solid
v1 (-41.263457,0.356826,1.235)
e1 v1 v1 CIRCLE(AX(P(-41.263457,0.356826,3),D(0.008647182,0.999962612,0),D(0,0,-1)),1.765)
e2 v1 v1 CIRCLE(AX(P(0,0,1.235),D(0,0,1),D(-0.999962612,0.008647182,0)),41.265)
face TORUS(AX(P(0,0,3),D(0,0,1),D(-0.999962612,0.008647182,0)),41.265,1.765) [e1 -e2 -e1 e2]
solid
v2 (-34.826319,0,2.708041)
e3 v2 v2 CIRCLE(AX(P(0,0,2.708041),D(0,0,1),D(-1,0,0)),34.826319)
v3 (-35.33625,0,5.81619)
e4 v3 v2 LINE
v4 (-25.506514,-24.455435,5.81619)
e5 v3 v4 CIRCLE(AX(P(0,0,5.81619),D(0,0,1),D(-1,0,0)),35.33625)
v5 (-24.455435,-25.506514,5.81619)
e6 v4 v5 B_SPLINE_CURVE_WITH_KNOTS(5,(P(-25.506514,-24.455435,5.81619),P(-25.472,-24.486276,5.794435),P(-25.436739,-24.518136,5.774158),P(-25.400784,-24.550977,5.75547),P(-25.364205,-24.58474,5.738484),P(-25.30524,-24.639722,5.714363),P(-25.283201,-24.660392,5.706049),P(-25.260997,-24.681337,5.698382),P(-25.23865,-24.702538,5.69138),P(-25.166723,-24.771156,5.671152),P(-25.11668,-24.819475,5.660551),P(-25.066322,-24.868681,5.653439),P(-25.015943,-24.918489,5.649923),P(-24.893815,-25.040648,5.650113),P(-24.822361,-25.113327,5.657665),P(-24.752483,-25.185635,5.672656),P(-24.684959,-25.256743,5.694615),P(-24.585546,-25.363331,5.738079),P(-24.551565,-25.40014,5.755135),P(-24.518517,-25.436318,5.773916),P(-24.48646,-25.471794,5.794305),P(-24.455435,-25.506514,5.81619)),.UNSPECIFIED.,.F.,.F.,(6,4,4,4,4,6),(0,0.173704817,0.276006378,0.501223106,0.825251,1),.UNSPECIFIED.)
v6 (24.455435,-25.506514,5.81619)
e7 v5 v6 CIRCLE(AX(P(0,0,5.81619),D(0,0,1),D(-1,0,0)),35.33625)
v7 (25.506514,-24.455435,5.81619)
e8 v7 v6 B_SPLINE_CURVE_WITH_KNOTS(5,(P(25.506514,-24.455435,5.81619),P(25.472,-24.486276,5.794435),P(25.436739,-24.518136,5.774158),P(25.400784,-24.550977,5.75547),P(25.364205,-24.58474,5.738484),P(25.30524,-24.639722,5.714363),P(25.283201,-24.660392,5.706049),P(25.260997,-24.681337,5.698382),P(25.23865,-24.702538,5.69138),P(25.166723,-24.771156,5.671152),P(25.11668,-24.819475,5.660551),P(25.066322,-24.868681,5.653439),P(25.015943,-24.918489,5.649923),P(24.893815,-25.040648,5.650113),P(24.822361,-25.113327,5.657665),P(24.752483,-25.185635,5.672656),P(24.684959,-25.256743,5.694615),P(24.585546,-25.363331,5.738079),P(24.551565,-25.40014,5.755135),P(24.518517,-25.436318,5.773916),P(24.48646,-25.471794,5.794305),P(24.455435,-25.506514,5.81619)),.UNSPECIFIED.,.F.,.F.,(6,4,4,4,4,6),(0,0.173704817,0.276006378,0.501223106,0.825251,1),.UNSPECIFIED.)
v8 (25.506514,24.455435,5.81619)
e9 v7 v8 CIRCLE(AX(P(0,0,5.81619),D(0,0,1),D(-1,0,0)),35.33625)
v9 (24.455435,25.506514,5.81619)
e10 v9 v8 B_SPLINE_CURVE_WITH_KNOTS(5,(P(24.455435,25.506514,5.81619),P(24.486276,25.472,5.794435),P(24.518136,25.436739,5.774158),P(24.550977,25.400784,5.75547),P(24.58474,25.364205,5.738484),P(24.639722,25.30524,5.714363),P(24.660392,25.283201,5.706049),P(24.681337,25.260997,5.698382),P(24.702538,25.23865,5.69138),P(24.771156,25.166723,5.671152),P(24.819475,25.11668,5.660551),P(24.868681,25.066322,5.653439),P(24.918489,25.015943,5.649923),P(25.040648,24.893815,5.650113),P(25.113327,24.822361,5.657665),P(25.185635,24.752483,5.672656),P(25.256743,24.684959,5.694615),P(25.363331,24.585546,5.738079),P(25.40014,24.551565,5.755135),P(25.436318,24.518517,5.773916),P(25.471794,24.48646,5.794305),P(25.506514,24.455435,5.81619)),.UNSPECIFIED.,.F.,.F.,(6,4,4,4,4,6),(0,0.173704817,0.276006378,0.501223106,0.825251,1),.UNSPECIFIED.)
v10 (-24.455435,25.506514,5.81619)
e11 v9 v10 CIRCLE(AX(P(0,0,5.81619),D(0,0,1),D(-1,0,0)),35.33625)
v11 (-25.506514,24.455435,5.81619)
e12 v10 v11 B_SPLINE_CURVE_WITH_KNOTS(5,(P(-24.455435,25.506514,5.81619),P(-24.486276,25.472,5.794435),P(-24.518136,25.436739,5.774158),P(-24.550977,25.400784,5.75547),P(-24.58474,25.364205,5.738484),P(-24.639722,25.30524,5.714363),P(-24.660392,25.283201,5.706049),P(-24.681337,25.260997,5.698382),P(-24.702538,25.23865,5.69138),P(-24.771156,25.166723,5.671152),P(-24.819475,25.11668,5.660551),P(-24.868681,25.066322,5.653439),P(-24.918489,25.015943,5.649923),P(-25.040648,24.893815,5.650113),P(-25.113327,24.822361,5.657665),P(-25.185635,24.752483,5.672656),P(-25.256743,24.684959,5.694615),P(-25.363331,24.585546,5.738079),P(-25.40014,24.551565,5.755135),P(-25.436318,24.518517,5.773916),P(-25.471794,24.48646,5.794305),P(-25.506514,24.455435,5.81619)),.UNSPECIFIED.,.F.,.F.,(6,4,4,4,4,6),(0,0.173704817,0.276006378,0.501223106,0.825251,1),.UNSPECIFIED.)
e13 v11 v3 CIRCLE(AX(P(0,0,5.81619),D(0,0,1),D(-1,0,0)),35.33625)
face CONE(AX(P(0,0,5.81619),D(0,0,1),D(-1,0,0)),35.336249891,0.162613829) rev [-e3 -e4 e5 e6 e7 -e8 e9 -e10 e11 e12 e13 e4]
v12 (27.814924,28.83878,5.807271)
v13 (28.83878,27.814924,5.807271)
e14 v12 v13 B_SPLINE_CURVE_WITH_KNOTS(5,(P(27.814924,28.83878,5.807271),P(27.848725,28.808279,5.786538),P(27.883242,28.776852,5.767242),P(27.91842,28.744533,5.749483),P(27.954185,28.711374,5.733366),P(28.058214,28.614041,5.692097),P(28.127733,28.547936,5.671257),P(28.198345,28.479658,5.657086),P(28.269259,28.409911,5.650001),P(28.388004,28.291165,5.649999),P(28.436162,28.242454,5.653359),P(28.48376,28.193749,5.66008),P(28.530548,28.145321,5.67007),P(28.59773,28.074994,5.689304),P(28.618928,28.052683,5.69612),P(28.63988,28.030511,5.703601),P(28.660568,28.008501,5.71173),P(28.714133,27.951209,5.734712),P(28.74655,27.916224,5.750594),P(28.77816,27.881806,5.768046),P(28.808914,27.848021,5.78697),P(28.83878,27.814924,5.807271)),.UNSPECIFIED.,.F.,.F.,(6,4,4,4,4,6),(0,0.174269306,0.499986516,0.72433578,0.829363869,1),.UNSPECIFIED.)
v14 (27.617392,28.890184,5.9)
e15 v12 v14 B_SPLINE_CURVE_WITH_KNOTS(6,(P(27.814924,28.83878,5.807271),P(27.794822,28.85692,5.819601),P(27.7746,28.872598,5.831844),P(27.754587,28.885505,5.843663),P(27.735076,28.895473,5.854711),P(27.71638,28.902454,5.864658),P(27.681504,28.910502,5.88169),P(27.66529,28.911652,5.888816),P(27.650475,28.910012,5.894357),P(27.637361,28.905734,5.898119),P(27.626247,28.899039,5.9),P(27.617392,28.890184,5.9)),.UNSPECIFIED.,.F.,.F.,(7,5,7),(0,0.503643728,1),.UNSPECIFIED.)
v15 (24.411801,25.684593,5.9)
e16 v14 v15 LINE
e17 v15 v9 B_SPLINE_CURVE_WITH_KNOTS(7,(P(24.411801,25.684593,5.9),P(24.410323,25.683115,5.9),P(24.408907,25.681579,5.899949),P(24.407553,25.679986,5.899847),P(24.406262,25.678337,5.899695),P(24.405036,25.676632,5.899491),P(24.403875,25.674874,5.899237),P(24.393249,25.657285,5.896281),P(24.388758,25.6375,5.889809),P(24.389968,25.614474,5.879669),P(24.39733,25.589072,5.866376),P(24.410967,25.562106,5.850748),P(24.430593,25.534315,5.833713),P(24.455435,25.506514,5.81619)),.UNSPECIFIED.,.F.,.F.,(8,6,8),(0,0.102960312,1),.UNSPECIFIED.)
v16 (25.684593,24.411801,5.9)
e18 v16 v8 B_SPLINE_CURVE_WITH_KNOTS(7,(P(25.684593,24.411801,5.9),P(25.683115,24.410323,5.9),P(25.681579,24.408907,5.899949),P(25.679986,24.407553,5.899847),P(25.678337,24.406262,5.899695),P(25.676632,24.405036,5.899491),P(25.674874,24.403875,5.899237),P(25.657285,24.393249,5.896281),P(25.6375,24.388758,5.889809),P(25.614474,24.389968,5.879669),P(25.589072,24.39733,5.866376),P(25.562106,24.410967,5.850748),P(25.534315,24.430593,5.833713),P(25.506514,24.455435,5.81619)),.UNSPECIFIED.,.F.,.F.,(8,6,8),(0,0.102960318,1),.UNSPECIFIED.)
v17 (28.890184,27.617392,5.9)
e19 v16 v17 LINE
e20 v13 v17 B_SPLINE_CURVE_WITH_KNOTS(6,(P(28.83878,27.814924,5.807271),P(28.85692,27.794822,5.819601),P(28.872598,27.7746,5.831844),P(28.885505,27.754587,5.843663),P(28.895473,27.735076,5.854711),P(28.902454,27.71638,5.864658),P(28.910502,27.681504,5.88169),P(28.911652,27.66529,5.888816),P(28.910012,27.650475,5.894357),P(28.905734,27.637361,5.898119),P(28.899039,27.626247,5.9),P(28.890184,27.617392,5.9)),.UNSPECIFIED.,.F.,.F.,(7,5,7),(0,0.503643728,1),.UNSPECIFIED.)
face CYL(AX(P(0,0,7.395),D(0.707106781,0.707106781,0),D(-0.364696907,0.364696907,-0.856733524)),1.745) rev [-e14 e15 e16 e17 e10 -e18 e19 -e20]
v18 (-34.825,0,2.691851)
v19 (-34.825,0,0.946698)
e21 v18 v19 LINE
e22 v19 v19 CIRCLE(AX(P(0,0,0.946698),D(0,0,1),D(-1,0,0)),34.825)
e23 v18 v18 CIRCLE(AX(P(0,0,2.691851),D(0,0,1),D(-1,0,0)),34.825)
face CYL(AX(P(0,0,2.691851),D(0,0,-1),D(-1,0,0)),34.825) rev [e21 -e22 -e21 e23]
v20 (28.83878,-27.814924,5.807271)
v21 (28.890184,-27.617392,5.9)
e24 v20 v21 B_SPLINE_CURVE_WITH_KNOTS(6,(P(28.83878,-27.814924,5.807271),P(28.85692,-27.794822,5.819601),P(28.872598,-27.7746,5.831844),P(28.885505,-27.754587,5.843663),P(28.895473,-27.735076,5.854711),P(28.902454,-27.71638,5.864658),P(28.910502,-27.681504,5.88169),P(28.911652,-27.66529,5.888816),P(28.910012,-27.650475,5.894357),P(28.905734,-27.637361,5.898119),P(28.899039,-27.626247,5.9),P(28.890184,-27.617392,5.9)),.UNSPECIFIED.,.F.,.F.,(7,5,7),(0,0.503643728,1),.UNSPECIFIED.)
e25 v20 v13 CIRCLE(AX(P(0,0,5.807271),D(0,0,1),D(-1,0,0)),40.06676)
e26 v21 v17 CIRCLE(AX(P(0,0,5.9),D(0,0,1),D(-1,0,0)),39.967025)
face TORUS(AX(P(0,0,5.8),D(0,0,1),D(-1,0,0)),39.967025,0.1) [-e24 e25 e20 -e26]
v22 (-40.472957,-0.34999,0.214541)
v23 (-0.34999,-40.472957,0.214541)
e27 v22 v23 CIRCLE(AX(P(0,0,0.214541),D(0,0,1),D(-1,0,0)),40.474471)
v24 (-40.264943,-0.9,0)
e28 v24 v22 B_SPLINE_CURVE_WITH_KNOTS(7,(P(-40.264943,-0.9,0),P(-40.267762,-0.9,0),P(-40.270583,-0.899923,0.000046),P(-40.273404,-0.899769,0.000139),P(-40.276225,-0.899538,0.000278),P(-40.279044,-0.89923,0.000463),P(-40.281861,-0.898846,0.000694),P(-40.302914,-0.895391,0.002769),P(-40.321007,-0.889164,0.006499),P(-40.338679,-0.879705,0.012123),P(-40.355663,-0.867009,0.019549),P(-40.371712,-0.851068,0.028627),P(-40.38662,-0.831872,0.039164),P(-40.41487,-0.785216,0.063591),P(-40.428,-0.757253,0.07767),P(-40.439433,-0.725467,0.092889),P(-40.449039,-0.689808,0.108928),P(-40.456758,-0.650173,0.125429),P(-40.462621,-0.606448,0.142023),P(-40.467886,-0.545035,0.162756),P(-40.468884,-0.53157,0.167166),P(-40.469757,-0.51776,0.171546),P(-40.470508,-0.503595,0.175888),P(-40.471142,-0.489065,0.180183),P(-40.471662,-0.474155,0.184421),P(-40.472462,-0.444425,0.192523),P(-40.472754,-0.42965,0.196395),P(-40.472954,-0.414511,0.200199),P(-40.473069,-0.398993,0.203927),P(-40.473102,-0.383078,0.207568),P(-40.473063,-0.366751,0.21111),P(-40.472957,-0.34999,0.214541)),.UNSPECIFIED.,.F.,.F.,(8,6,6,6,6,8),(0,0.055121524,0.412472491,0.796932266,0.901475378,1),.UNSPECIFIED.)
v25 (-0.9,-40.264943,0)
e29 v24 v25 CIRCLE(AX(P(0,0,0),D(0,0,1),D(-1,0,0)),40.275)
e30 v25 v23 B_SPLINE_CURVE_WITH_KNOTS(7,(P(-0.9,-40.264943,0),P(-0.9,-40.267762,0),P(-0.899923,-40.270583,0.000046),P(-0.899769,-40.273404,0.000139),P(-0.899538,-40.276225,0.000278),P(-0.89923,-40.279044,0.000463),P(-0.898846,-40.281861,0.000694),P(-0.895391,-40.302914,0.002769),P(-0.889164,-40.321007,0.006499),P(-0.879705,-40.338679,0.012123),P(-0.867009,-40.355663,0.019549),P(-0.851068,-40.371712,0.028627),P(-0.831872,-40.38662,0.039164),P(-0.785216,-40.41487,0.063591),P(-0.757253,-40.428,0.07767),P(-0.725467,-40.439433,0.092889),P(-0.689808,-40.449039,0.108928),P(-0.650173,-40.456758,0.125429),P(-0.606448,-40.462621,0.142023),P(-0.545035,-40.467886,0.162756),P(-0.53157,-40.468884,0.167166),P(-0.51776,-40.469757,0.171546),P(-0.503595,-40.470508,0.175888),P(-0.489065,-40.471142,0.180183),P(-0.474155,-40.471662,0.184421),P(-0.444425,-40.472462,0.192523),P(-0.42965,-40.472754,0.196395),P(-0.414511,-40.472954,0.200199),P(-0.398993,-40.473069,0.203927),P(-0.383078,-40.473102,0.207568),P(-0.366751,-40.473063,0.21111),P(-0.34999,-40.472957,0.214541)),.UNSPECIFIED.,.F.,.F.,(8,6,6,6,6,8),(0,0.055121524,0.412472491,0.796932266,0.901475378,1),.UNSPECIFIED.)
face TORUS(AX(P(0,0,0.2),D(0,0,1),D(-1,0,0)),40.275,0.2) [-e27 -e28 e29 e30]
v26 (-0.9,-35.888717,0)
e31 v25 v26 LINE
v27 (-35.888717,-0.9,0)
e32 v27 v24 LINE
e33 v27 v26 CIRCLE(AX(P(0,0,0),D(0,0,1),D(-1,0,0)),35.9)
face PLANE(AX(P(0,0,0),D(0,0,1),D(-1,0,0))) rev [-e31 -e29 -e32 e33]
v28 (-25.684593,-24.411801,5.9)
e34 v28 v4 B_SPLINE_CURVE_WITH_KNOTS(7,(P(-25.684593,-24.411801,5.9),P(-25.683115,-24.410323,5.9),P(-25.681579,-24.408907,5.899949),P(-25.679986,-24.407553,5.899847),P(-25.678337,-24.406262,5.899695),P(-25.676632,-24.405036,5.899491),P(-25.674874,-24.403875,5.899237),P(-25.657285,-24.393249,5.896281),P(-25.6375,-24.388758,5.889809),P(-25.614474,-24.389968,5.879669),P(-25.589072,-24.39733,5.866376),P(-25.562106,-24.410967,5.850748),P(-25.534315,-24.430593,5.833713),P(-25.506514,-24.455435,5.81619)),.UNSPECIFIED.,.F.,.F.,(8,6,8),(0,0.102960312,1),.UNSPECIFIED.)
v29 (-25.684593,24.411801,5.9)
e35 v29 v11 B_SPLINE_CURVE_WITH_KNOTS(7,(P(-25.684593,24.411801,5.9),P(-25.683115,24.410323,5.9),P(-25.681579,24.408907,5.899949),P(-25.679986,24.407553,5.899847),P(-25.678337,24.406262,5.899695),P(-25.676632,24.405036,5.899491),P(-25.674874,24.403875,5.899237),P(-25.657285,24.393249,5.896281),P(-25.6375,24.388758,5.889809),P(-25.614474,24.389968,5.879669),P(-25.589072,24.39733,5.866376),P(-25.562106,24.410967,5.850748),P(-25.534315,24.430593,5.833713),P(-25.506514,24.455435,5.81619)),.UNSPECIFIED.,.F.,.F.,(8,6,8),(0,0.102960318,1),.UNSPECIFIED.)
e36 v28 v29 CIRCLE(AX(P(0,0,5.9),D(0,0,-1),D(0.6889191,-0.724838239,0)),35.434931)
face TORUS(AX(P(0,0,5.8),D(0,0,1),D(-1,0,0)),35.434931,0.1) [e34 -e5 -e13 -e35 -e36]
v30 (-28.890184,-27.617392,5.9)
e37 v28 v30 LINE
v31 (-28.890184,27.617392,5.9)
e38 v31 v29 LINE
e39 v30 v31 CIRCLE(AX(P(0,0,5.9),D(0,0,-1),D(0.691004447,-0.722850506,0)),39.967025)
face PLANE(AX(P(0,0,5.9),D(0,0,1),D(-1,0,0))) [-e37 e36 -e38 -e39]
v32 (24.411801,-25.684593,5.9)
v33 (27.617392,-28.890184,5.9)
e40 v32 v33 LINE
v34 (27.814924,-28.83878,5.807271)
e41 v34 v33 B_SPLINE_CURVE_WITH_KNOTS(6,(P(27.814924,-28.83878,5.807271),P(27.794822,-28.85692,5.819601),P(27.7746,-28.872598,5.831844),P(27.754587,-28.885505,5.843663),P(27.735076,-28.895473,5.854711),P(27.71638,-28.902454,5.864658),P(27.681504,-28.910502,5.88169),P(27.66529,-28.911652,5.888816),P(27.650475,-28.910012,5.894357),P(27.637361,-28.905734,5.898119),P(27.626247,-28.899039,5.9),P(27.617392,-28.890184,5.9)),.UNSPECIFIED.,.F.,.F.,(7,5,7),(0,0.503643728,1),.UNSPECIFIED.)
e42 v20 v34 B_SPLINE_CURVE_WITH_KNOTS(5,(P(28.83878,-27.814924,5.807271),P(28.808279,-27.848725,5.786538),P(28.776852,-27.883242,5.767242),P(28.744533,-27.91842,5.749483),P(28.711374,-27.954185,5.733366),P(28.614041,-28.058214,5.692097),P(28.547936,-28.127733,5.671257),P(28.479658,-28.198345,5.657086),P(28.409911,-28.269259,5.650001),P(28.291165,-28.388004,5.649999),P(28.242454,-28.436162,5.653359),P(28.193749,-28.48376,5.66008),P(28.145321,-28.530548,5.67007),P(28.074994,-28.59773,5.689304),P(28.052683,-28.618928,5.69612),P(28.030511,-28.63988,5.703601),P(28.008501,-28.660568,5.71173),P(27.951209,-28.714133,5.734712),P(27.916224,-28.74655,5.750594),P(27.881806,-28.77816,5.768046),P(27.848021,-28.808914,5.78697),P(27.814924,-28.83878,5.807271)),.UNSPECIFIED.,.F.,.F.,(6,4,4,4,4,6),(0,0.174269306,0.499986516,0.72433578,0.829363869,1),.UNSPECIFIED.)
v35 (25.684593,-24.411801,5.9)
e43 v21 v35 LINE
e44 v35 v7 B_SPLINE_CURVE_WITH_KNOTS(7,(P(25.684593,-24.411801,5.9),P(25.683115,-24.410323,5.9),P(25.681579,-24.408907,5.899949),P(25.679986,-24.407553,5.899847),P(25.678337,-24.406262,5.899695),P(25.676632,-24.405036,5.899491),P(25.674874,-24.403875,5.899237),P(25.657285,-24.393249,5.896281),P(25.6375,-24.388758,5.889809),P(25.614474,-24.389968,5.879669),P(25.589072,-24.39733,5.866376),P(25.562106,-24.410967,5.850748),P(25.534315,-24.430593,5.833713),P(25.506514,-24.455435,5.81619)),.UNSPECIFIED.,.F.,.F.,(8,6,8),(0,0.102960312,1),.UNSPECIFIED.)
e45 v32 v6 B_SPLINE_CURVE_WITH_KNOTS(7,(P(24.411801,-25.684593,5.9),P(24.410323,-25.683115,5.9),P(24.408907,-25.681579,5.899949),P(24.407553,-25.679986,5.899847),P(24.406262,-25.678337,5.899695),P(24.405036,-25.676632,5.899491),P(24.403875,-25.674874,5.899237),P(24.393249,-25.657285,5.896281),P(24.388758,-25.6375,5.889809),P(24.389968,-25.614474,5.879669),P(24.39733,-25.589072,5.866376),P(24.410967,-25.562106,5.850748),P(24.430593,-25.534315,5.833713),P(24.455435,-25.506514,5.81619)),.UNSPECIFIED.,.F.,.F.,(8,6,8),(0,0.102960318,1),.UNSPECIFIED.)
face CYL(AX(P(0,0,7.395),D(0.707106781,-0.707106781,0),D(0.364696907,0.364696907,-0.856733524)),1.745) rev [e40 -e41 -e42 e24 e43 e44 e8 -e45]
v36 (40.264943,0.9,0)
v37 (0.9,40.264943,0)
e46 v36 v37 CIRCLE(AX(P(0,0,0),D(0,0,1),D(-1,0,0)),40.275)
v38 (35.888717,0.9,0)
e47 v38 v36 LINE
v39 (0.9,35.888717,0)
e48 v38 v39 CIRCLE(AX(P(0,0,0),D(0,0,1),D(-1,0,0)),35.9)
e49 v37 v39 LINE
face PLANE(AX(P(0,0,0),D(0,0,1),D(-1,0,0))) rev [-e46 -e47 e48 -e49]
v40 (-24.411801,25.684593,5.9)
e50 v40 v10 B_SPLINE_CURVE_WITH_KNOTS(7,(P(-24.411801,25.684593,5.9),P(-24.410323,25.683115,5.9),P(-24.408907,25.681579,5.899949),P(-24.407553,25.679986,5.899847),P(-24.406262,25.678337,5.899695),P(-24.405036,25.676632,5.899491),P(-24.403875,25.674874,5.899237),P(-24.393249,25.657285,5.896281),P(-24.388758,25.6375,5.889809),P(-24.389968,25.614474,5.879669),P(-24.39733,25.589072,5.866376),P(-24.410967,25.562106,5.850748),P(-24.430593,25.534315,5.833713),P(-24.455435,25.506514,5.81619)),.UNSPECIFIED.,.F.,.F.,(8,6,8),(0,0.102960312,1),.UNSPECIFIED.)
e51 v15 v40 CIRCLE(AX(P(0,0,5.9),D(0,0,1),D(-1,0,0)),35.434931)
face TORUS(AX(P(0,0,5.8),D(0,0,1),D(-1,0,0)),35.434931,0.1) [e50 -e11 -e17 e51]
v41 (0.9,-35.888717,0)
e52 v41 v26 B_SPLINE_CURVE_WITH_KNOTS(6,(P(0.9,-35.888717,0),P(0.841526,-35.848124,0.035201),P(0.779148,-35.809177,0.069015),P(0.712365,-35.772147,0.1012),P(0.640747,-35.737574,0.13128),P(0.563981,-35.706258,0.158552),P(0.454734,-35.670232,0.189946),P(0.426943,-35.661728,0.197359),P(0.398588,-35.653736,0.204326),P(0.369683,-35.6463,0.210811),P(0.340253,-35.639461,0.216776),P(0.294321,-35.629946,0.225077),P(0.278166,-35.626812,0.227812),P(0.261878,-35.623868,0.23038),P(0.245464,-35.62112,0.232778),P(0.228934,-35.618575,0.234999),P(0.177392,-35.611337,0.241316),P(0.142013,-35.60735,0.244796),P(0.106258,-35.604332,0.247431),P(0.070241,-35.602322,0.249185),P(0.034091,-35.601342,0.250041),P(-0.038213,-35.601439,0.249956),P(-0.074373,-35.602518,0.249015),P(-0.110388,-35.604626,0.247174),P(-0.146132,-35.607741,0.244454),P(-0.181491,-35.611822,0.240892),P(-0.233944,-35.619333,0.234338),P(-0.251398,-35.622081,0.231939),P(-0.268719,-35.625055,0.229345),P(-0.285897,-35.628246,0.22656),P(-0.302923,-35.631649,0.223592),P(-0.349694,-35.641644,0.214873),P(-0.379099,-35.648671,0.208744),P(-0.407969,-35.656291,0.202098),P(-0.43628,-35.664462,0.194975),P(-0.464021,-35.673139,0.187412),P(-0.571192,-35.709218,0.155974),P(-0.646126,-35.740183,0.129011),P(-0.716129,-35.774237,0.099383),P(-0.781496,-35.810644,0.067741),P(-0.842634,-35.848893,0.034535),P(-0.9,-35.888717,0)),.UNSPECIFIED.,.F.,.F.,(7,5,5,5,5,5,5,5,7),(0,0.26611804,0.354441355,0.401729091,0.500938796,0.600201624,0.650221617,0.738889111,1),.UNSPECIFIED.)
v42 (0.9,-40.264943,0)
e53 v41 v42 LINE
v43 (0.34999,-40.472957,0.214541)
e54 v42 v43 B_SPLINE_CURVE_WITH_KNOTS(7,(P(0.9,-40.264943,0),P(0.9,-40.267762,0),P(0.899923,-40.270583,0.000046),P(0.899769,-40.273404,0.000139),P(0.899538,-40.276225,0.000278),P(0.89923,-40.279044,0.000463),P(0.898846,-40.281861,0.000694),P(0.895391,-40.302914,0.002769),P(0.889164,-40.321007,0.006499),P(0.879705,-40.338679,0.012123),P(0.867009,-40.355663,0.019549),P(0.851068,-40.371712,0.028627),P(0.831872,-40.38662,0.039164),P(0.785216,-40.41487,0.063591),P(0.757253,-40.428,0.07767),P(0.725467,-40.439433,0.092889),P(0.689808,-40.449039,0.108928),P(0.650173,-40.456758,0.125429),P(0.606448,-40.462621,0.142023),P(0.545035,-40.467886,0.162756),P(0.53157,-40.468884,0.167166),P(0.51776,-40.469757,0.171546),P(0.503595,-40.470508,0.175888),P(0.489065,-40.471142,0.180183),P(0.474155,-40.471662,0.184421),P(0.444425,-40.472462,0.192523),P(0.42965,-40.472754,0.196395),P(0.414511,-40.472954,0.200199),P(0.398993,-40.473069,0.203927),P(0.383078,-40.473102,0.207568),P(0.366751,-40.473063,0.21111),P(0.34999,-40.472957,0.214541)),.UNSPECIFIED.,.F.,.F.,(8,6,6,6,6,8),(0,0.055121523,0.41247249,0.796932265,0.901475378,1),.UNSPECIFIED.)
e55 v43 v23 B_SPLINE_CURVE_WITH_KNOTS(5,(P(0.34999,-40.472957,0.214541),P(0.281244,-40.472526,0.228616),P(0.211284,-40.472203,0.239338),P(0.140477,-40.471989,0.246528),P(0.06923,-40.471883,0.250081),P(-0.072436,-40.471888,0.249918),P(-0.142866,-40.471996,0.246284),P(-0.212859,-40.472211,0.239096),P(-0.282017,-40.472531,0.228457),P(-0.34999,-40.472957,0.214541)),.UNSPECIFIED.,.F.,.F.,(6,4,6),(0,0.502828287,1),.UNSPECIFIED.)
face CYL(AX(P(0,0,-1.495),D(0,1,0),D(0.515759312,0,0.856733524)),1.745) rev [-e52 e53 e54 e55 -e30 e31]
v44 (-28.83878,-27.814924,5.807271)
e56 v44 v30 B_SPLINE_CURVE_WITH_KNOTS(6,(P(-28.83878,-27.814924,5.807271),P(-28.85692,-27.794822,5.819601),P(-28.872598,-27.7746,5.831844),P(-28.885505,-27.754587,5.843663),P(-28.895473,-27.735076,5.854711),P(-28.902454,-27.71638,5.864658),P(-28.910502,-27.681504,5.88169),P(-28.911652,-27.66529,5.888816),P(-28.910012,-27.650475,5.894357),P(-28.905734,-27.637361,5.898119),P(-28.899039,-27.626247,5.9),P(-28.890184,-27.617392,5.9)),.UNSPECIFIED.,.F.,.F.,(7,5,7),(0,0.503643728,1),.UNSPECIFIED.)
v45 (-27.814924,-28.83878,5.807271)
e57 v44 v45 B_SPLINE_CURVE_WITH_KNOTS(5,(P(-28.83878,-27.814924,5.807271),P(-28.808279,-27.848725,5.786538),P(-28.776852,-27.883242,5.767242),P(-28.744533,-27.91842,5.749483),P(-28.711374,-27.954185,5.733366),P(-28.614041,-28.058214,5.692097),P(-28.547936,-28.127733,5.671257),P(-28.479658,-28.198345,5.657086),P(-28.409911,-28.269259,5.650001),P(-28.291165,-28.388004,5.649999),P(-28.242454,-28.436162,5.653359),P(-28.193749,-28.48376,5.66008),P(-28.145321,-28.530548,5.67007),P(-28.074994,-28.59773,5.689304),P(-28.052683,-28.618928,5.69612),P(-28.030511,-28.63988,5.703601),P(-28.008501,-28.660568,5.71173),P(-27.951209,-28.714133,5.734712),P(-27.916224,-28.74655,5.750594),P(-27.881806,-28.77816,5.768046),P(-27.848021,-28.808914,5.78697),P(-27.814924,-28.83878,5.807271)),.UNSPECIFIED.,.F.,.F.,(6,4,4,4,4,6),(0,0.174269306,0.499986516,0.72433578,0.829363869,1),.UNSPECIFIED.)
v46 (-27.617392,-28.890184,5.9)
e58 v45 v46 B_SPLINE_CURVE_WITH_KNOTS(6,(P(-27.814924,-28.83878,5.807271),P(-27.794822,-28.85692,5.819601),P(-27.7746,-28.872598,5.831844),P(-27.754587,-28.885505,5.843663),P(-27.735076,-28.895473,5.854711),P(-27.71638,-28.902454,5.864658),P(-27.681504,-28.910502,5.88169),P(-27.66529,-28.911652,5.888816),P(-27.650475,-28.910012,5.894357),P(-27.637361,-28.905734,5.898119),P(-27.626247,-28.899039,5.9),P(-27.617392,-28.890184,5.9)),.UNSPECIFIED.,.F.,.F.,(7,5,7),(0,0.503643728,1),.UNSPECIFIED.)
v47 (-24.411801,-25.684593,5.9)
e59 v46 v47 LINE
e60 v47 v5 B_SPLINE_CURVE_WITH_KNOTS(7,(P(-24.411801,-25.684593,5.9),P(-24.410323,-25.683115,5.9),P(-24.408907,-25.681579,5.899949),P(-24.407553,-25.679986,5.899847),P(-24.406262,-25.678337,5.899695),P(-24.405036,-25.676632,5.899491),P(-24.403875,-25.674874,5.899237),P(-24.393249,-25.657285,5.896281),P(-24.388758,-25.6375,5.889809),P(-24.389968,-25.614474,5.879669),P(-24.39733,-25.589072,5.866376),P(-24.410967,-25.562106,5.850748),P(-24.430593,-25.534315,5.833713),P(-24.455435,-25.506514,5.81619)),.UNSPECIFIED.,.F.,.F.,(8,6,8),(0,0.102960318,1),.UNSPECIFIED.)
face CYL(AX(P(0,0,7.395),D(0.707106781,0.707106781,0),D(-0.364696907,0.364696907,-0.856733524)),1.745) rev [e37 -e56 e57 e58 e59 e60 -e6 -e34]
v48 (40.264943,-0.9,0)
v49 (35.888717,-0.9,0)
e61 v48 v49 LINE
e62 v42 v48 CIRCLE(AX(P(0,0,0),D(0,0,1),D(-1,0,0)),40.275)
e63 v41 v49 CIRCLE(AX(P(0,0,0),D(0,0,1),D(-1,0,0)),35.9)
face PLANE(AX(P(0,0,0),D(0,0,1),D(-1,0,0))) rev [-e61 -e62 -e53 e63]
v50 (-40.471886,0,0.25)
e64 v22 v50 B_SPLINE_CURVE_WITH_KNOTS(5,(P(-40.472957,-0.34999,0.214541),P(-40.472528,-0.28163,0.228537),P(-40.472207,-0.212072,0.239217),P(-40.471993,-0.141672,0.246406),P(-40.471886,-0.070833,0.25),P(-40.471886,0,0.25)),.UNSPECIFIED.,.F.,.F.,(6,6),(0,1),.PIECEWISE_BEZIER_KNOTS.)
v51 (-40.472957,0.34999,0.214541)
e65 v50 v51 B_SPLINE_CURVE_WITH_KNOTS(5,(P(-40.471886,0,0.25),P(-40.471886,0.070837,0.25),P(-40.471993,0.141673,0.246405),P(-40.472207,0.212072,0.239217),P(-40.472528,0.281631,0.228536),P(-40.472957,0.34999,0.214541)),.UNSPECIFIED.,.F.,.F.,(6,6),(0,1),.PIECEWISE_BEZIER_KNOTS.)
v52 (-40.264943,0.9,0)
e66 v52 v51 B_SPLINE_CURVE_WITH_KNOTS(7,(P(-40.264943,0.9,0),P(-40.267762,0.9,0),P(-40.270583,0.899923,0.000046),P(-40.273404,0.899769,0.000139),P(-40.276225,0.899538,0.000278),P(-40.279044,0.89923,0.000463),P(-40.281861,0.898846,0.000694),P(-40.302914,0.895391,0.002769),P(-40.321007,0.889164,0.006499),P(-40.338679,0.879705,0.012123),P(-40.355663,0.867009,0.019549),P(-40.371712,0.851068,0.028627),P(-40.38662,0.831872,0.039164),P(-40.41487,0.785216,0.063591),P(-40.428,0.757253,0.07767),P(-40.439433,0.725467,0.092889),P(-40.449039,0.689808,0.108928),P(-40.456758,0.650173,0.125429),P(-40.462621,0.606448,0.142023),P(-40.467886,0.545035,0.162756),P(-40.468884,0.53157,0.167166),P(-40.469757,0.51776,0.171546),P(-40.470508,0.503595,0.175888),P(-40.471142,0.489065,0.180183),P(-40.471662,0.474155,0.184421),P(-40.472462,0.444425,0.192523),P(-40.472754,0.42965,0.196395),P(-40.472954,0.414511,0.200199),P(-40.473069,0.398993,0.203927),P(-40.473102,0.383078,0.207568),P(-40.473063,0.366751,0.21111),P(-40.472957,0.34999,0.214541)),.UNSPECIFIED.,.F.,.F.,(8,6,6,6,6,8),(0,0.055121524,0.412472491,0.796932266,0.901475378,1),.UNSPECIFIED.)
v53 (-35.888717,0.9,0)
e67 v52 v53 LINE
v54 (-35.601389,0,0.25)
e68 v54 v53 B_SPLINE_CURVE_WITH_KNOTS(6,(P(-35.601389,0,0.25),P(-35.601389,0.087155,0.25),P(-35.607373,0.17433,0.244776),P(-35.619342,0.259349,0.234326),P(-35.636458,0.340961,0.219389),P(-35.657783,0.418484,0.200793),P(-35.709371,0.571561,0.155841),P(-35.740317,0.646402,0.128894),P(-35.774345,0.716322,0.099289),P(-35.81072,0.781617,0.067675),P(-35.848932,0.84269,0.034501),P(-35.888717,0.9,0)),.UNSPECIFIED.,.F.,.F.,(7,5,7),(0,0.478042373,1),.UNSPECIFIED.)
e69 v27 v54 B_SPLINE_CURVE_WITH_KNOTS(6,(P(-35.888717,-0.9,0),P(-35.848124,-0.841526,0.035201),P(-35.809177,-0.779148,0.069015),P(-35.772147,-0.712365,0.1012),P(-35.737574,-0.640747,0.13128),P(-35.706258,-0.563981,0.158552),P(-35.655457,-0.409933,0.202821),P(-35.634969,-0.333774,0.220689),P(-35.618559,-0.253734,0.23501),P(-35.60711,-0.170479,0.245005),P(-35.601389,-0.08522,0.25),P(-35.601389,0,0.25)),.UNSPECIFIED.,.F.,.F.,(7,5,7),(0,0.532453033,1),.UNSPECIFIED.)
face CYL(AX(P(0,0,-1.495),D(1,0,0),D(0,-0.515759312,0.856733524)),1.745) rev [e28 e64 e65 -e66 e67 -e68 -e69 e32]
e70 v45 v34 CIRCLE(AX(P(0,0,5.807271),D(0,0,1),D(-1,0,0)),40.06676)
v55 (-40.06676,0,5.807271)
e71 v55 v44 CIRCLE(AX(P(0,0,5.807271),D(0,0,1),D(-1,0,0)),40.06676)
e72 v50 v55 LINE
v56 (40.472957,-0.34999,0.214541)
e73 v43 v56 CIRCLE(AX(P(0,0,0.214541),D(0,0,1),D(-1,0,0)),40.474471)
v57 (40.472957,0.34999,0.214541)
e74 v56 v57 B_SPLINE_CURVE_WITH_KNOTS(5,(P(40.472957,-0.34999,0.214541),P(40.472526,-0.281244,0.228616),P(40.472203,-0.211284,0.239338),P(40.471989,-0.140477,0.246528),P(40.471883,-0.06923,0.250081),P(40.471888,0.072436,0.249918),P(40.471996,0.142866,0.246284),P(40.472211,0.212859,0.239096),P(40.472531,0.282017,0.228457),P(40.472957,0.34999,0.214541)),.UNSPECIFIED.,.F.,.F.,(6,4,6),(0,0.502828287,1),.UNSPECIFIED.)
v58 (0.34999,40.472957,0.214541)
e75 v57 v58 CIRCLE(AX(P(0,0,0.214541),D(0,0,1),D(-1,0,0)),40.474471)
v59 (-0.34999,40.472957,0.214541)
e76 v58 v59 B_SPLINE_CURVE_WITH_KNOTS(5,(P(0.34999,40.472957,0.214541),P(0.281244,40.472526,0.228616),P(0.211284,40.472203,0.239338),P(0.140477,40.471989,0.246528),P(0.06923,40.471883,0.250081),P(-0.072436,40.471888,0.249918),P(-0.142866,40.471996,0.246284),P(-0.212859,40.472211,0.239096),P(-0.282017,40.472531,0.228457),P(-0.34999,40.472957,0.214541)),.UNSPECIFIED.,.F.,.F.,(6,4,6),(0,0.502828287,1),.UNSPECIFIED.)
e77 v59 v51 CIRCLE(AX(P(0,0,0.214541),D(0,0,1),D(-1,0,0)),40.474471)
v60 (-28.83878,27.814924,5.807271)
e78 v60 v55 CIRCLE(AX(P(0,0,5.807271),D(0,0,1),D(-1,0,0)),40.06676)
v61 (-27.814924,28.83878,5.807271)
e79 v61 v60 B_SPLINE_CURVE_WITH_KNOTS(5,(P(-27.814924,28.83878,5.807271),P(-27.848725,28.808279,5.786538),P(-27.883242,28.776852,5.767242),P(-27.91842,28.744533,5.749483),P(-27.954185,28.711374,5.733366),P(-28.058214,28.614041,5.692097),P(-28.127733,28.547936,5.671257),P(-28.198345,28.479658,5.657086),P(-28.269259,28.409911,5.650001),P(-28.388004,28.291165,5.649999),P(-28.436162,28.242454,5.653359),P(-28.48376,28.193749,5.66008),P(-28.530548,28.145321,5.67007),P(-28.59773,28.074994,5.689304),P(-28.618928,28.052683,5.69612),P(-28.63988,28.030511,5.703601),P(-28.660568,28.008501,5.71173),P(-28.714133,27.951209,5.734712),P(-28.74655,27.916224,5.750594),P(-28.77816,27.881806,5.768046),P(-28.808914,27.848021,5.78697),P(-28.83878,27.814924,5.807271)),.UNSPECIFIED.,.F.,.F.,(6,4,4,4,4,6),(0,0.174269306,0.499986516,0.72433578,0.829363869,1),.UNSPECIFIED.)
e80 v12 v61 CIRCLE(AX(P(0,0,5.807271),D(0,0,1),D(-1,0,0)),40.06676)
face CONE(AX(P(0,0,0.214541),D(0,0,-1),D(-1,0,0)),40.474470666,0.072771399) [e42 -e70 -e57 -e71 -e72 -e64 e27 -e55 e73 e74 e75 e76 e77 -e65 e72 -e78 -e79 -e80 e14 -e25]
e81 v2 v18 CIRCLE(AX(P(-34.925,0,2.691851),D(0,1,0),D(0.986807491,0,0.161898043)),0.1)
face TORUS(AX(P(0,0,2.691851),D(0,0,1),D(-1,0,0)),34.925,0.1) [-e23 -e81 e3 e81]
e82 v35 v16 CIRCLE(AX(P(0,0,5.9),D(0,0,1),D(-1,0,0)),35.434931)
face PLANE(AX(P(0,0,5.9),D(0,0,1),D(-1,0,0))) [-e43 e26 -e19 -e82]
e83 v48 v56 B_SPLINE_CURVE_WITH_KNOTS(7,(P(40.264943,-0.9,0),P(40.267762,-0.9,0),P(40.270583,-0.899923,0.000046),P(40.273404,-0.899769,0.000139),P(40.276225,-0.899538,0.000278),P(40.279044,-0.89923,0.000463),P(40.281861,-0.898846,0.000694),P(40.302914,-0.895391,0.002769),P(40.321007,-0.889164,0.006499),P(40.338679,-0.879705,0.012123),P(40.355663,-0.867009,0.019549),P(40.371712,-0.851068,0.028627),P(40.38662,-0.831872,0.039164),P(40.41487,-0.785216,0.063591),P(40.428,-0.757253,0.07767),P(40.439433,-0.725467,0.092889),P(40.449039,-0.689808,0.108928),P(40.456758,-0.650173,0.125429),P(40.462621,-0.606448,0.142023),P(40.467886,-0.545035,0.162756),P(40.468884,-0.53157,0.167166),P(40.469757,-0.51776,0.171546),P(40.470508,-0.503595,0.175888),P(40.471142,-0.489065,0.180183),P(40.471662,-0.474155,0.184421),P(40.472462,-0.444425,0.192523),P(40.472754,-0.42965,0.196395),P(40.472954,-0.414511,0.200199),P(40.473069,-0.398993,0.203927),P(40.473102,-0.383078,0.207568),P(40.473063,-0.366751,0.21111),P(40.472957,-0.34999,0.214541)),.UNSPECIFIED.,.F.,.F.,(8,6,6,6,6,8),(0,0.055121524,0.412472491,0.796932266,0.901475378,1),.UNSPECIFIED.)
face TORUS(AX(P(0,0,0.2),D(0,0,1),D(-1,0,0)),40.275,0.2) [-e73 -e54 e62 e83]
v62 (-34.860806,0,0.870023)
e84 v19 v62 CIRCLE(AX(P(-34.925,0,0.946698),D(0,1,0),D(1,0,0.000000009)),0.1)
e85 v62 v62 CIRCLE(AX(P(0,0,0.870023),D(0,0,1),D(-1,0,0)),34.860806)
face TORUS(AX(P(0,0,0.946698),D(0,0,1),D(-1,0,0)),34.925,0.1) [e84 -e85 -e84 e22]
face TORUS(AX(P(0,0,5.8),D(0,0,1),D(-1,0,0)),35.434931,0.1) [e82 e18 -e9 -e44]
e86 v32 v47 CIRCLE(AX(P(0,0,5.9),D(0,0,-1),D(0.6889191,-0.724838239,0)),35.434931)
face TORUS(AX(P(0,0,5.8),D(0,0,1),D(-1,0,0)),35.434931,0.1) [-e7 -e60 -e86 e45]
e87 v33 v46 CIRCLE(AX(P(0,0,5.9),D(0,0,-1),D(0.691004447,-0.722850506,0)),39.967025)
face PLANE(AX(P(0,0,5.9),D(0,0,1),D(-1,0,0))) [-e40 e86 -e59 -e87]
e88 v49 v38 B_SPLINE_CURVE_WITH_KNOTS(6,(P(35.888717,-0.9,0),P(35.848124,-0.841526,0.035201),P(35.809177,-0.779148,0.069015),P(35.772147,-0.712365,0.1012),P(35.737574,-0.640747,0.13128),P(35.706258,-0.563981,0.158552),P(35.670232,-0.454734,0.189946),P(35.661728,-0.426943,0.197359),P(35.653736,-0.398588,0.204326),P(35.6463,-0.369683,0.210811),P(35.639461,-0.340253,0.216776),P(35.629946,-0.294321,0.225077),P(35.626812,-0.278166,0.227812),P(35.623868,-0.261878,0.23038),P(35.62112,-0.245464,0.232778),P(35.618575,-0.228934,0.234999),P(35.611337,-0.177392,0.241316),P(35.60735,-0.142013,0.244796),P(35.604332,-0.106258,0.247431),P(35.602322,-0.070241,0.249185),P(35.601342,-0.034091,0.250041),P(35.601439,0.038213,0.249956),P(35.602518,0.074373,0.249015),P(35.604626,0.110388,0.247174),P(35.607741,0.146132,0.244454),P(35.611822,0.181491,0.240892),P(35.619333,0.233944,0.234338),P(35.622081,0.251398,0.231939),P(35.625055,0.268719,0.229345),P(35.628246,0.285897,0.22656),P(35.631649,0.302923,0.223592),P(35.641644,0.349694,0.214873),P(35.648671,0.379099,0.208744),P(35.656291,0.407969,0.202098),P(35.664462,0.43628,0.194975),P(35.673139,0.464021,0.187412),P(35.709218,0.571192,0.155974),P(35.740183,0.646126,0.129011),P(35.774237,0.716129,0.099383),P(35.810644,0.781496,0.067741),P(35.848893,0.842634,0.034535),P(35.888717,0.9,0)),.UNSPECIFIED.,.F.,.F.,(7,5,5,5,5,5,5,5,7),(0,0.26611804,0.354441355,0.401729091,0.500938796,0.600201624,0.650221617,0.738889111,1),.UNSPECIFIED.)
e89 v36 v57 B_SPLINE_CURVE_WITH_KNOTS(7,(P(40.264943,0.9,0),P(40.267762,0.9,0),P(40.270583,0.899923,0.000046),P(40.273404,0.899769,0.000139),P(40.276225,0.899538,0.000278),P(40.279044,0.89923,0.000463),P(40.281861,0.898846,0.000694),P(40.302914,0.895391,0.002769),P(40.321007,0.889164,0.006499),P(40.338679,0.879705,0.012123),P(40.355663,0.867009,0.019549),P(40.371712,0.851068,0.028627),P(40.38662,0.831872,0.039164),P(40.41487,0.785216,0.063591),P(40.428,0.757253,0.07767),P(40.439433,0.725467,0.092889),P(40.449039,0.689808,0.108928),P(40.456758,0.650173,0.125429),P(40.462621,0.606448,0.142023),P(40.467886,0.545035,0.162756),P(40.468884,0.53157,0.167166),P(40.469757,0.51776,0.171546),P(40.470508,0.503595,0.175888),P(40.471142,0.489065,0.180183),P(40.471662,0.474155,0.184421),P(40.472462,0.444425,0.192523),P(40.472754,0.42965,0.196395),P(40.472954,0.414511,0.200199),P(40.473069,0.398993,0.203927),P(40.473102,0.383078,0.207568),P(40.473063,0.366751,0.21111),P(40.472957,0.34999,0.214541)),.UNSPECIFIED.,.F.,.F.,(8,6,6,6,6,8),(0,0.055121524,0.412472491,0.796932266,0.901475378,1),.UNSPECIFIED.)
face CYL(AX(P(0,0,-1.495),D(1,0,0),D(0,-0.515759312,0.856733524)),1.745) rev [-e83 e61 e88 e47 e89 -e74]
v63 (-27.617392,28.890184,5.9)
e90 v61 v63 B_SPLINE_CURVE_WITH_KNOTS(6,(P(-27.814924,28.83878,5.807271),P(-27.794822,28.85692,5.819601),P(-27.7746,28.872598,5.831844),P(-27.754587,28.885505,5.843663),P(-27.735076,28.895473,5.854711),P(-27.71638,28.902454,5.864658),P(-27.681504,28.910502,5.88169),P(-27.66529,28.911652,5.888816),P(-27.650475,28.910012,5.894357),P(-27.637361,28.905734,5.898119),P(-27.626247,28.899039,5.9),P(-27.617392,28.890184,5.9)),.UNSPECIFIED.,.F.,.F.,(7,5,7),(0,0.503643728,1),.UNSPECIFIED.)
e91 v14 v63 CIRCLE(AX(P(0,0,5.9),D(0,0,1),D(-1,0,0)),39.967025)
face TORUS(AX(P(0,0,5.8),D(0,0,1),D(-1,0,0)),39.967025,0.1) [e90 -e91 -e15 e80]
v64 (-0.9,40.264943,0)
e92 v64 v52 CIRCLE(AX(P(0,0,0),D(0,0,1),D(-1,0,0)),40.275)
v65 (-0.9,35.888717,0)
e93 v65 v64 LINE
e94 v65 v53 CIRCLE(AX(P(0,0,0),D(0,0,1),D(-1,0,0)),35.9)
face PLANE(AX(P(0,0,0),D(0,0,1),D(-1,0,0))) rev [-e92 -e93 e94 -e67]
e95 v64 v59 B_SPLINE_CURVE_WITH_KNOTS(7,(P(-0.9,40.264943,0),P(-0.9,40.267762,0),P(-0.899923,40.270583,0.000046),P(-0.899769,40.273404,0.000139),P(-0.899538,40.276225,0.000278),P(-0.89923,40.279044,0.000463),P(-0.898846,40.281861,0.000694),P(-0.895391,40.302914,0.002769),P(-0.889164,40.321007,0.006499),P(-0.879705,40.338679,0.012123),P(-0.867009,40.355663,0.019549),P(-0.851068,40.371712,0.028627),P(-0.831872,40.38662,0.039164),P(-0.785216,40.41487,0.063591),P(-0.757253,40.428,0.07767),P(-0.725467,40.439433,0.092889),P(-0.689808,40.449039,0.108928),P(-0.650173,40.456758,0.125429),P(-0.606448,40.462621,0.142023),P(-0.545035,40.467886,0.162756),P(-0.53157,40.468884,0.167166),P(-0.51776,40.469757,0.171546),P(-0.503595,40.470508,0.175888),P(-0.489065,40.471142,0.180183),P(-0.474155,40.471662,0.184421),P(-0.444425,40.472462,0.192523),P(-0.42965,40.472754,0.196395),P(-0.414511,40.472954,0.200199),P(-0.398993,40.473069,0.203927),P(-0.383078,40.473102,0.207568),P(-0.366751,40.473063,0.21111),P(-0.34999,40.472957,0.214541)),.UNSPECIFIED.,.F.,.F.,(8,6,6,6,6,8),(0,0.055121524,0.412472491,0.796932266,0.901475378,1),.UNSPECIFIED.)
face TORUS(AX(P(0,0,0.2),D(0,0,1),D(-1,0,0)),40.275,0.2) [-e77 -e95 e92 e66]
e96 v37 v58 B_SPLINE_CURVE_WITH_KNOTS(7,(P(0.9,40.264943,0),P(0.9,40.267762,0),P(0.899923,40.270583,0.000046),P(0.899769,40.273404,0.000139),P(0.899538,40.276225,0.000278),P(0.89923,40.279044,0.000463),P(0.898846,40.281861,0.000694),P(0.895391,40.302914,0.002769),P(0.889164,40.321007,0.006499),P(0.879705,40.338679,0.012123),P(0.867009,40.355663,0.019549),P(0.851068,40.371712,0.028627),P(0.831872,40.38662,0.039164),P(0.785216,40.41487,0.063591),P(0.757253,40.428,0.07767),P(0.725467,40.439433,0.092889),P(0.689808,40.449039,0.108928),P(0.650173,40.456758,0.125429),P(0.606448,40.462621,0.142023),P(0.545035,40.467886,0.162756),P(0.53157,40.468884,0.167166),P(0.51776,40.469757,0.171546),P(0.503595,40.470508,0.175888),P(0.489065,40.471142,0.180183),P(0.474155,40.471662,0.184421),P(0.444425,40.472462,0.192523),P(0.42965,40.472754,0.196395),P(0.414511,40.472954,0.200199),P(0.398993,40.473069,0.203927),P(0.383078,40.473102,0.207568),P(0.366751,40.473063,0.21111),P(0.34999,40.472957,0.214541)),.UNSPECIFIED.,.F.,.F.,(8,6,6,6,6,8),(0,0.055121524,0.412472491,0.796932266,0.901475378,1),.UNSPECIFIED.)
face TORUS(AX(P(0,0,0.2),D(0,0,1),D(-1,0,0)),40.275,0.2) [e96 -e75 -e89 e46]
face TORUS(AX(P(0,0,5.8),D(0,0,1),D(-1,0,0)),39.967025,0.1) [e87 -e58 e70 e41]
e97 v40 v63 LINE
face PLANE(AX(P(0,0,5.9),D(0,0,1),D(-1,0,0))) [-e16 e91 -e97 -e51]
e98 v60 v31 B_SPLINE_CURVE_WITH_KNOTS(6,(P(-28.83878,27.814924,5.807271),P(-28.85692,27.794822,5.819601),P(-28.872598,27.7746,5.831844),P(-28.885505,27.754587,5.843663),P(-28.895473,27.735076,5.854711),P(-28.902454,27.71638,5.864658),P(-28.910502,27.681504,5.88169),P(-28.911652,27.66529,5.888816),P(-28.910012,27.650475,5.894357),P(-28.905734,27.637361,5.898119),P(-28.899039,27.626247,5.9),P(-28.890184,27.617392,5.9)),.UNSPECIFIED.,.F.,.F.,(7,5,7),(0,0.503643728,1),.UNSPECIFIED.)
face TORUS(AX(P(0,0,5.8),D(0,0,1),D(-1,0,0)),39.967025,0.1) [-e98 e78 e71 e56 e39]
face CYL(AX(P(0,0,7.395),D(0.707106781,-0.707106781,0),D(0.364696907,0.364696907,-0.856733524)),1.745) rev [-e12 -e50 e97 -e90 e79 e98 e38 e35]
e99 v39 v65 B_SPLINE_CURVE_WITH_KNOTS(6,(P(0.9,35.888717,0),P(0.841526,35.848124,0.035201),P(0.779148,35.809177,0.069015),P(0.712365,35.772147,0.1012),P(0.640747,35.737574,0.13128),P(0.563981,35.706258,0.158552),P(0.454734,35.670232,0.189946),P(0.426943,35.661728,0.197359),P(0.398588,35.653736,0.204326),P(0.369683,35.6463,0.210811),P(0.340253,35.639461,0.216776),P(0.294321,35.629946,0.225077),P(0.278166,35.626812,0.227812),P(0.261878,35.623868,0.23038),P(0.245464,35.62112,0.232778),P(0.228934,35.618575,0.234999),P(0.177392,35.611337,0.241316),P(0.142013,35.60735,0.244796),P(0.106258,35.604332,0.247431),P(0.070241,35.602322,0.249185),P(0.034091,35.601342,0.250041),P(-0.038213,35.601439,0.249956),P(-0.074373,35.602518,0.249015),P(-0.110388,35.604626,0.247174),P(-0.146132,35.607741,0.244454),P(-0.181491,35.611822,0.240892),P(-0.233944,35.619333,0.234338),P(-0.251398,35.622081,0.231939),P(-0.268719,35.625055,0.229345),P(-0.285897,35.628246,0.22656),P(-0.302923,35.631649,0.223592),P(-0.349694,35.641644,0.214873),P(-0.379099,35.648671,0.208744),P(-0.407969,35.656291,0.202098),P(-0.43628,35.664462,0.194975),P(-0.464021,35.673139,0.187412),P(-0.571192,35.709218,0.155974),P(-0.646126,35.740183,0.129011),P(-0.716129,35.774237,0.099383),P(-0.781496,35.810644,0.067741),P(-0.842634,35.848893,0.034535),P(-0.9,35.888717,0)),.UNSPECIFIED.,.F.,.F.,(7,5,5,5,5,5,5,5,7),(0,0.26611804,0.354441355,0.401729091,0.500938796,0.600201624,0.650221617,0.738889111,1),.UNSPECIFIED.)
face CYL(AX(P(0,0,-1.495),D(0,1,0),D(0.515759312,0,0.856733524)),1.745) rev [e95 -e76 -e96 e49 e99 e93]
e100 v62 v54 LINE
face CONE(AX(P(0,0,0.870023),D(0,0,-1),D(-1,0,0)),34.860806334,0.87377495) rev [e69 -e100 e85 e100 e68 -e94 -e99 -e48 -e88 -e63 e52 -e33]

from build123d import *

# Parameters (mm, degrees)
CUT_EXTRUDE1_DEPTH = 58.543559738
CIRPATTERN1_COUNT  = 4
CUT_EXTRUDE2_DEPTH = 58.540818459
CIRPATTERN2_COUNT  = 4
SKETCH4_R          = 1.765


with BuildPart() as part:
    # Sketch1 → Revolve1 (revolve)
    with BuildSketch(Plane(origin=(0, 0, 0), x_dir=(0, 0, -1), z_dir=(1, 0, 0)), mode=Mode.PRIVATE) as revolve1_sk:
        with BuildLine():
            Line((0, 35.9), (0, 40.275))
            ThreePointArc((0, 40.275), (-0.063816828, 40.421472331), (-0.214541437, 40.474470666))
            Line((-0.214541437, 40.474470666), (-5.807270719, 40.066759977))
            ThreePointArc((-5.807270719, 40.066759977), (-5.873236165, 40.035116229), (-5.9, 39.967024644))
            Line((-5.9, 39.967024644), (-5.9, 35.434930639))
            ThreePointArc((-5.9, 35.434930639), (-5.876220014, 35.370196494), (-5.81618981, 35.336249891))
            Line((-5.81618981, 35.336249891), (-2.708041154, 34.826319252))
            ThreePointArc((-2.708041154, 34.826319252), (-2.69997308, 34.825330359), (-2.691851344, 34.825))
            Line((-2.691851344, 34.825), (-0.946698371, 34.825))
            ThreePointArc((-0.946698371, 34.825), (-0.904386237, 34.834392697), (-0.870022604, 34.860806334))
            Line((-0.870022604, 34.860806334), (0, 35.9))
        make_face()
    revolve(revolve1_sk.sketch.rotate(Axis((0, 0, 0), (0, 0, 1)), 90), axis=Axis((0, 0, 0), (0, 0, 1)))

    # Sketch2 → Cut-Extrude1 (cut, symmetric)
    with BuildSketch(Plane(origin=(0, 0, 0), x_dir=(0, 0, -1), z_dir=(1, 0, 0))):
        with BuildLine():
            Line((0, 0.9), (0, -0.9))
            ThreePointArc((0, -0.9), (-0.25, 0), (0, 0.9))
        make_face()
    cut_extrude1 = extrude(amount=CUT_EXTRUDE1_DEPTH, both=True, mode=Mode.SUBTRACT)

    # CirPattern1: Cut-Extrude1 ×4 about axis
    cirpattern1_axis = Axis((0, 0, -19.117405614), (0, 0, 1))
    for i in range(1, CIRPATTERN1_COUNT):
        add(cut_extrude1.rotate(cirpattern1_axis, i * 360 / CIRPATTERN1_COUNT), mode=Mode.SUBTRACT)

    # Sketch3 → Cut-Extrude2 (cut, symmetric)
    with BuildSketch(Plane(origin=(0, 0, 0), x_dir=(0.7071067811865488, 0.7071067811865462, 0), z_dir=(0.7071067811865462, -0.7071067811865488, 0))):
        with BuildLine():
            Line((-0.9, 5.9), (0.9, 5.9))
            ThreePointArc((0.9, 5.9), (0, 5.65), (-0.9, 5.9))
        make_face()
    cut_extrude2 = extrude(amount=CUT_EXTRUDE2_DEPTH, both=True, mode=Mode.SUBTRACT)

    # CirPattern2: Cut-Extrude2 ×4 about axis
    cirpattern2_axis = Axis((0, 0, -19.117405614), (0, 0, 1))
    for i in range(1, CIRPATTERN2_COUNT):
        add(cut_extrude2.rotate(cirpattern2_axis, i * 360 / CIRPATTERN2_COUNT), mode=Mode.SUBTRACT)


with BuildPart() as body_2:
    # Sketch4 → Revolve2 (revolve)
    with BuildSketch(Plane(origin=(0, 0, 0), x_dir=(0, 0, -1), z_dir=(1, 0, 0)), mode=Mode.PRIVATE) as revolve2_sk:
        with Locations((-3, 41.265)):
            Circle(SKETCH4_R)
    revolve(revolve2_sk.sketch.rotate(Axis((0, 0, 0), (0, 0, 1)), 89.504546805), axis=Axis((0, 0, 0), (0, 0, 1)))


solid = Compound([part.part, body_2.part])
